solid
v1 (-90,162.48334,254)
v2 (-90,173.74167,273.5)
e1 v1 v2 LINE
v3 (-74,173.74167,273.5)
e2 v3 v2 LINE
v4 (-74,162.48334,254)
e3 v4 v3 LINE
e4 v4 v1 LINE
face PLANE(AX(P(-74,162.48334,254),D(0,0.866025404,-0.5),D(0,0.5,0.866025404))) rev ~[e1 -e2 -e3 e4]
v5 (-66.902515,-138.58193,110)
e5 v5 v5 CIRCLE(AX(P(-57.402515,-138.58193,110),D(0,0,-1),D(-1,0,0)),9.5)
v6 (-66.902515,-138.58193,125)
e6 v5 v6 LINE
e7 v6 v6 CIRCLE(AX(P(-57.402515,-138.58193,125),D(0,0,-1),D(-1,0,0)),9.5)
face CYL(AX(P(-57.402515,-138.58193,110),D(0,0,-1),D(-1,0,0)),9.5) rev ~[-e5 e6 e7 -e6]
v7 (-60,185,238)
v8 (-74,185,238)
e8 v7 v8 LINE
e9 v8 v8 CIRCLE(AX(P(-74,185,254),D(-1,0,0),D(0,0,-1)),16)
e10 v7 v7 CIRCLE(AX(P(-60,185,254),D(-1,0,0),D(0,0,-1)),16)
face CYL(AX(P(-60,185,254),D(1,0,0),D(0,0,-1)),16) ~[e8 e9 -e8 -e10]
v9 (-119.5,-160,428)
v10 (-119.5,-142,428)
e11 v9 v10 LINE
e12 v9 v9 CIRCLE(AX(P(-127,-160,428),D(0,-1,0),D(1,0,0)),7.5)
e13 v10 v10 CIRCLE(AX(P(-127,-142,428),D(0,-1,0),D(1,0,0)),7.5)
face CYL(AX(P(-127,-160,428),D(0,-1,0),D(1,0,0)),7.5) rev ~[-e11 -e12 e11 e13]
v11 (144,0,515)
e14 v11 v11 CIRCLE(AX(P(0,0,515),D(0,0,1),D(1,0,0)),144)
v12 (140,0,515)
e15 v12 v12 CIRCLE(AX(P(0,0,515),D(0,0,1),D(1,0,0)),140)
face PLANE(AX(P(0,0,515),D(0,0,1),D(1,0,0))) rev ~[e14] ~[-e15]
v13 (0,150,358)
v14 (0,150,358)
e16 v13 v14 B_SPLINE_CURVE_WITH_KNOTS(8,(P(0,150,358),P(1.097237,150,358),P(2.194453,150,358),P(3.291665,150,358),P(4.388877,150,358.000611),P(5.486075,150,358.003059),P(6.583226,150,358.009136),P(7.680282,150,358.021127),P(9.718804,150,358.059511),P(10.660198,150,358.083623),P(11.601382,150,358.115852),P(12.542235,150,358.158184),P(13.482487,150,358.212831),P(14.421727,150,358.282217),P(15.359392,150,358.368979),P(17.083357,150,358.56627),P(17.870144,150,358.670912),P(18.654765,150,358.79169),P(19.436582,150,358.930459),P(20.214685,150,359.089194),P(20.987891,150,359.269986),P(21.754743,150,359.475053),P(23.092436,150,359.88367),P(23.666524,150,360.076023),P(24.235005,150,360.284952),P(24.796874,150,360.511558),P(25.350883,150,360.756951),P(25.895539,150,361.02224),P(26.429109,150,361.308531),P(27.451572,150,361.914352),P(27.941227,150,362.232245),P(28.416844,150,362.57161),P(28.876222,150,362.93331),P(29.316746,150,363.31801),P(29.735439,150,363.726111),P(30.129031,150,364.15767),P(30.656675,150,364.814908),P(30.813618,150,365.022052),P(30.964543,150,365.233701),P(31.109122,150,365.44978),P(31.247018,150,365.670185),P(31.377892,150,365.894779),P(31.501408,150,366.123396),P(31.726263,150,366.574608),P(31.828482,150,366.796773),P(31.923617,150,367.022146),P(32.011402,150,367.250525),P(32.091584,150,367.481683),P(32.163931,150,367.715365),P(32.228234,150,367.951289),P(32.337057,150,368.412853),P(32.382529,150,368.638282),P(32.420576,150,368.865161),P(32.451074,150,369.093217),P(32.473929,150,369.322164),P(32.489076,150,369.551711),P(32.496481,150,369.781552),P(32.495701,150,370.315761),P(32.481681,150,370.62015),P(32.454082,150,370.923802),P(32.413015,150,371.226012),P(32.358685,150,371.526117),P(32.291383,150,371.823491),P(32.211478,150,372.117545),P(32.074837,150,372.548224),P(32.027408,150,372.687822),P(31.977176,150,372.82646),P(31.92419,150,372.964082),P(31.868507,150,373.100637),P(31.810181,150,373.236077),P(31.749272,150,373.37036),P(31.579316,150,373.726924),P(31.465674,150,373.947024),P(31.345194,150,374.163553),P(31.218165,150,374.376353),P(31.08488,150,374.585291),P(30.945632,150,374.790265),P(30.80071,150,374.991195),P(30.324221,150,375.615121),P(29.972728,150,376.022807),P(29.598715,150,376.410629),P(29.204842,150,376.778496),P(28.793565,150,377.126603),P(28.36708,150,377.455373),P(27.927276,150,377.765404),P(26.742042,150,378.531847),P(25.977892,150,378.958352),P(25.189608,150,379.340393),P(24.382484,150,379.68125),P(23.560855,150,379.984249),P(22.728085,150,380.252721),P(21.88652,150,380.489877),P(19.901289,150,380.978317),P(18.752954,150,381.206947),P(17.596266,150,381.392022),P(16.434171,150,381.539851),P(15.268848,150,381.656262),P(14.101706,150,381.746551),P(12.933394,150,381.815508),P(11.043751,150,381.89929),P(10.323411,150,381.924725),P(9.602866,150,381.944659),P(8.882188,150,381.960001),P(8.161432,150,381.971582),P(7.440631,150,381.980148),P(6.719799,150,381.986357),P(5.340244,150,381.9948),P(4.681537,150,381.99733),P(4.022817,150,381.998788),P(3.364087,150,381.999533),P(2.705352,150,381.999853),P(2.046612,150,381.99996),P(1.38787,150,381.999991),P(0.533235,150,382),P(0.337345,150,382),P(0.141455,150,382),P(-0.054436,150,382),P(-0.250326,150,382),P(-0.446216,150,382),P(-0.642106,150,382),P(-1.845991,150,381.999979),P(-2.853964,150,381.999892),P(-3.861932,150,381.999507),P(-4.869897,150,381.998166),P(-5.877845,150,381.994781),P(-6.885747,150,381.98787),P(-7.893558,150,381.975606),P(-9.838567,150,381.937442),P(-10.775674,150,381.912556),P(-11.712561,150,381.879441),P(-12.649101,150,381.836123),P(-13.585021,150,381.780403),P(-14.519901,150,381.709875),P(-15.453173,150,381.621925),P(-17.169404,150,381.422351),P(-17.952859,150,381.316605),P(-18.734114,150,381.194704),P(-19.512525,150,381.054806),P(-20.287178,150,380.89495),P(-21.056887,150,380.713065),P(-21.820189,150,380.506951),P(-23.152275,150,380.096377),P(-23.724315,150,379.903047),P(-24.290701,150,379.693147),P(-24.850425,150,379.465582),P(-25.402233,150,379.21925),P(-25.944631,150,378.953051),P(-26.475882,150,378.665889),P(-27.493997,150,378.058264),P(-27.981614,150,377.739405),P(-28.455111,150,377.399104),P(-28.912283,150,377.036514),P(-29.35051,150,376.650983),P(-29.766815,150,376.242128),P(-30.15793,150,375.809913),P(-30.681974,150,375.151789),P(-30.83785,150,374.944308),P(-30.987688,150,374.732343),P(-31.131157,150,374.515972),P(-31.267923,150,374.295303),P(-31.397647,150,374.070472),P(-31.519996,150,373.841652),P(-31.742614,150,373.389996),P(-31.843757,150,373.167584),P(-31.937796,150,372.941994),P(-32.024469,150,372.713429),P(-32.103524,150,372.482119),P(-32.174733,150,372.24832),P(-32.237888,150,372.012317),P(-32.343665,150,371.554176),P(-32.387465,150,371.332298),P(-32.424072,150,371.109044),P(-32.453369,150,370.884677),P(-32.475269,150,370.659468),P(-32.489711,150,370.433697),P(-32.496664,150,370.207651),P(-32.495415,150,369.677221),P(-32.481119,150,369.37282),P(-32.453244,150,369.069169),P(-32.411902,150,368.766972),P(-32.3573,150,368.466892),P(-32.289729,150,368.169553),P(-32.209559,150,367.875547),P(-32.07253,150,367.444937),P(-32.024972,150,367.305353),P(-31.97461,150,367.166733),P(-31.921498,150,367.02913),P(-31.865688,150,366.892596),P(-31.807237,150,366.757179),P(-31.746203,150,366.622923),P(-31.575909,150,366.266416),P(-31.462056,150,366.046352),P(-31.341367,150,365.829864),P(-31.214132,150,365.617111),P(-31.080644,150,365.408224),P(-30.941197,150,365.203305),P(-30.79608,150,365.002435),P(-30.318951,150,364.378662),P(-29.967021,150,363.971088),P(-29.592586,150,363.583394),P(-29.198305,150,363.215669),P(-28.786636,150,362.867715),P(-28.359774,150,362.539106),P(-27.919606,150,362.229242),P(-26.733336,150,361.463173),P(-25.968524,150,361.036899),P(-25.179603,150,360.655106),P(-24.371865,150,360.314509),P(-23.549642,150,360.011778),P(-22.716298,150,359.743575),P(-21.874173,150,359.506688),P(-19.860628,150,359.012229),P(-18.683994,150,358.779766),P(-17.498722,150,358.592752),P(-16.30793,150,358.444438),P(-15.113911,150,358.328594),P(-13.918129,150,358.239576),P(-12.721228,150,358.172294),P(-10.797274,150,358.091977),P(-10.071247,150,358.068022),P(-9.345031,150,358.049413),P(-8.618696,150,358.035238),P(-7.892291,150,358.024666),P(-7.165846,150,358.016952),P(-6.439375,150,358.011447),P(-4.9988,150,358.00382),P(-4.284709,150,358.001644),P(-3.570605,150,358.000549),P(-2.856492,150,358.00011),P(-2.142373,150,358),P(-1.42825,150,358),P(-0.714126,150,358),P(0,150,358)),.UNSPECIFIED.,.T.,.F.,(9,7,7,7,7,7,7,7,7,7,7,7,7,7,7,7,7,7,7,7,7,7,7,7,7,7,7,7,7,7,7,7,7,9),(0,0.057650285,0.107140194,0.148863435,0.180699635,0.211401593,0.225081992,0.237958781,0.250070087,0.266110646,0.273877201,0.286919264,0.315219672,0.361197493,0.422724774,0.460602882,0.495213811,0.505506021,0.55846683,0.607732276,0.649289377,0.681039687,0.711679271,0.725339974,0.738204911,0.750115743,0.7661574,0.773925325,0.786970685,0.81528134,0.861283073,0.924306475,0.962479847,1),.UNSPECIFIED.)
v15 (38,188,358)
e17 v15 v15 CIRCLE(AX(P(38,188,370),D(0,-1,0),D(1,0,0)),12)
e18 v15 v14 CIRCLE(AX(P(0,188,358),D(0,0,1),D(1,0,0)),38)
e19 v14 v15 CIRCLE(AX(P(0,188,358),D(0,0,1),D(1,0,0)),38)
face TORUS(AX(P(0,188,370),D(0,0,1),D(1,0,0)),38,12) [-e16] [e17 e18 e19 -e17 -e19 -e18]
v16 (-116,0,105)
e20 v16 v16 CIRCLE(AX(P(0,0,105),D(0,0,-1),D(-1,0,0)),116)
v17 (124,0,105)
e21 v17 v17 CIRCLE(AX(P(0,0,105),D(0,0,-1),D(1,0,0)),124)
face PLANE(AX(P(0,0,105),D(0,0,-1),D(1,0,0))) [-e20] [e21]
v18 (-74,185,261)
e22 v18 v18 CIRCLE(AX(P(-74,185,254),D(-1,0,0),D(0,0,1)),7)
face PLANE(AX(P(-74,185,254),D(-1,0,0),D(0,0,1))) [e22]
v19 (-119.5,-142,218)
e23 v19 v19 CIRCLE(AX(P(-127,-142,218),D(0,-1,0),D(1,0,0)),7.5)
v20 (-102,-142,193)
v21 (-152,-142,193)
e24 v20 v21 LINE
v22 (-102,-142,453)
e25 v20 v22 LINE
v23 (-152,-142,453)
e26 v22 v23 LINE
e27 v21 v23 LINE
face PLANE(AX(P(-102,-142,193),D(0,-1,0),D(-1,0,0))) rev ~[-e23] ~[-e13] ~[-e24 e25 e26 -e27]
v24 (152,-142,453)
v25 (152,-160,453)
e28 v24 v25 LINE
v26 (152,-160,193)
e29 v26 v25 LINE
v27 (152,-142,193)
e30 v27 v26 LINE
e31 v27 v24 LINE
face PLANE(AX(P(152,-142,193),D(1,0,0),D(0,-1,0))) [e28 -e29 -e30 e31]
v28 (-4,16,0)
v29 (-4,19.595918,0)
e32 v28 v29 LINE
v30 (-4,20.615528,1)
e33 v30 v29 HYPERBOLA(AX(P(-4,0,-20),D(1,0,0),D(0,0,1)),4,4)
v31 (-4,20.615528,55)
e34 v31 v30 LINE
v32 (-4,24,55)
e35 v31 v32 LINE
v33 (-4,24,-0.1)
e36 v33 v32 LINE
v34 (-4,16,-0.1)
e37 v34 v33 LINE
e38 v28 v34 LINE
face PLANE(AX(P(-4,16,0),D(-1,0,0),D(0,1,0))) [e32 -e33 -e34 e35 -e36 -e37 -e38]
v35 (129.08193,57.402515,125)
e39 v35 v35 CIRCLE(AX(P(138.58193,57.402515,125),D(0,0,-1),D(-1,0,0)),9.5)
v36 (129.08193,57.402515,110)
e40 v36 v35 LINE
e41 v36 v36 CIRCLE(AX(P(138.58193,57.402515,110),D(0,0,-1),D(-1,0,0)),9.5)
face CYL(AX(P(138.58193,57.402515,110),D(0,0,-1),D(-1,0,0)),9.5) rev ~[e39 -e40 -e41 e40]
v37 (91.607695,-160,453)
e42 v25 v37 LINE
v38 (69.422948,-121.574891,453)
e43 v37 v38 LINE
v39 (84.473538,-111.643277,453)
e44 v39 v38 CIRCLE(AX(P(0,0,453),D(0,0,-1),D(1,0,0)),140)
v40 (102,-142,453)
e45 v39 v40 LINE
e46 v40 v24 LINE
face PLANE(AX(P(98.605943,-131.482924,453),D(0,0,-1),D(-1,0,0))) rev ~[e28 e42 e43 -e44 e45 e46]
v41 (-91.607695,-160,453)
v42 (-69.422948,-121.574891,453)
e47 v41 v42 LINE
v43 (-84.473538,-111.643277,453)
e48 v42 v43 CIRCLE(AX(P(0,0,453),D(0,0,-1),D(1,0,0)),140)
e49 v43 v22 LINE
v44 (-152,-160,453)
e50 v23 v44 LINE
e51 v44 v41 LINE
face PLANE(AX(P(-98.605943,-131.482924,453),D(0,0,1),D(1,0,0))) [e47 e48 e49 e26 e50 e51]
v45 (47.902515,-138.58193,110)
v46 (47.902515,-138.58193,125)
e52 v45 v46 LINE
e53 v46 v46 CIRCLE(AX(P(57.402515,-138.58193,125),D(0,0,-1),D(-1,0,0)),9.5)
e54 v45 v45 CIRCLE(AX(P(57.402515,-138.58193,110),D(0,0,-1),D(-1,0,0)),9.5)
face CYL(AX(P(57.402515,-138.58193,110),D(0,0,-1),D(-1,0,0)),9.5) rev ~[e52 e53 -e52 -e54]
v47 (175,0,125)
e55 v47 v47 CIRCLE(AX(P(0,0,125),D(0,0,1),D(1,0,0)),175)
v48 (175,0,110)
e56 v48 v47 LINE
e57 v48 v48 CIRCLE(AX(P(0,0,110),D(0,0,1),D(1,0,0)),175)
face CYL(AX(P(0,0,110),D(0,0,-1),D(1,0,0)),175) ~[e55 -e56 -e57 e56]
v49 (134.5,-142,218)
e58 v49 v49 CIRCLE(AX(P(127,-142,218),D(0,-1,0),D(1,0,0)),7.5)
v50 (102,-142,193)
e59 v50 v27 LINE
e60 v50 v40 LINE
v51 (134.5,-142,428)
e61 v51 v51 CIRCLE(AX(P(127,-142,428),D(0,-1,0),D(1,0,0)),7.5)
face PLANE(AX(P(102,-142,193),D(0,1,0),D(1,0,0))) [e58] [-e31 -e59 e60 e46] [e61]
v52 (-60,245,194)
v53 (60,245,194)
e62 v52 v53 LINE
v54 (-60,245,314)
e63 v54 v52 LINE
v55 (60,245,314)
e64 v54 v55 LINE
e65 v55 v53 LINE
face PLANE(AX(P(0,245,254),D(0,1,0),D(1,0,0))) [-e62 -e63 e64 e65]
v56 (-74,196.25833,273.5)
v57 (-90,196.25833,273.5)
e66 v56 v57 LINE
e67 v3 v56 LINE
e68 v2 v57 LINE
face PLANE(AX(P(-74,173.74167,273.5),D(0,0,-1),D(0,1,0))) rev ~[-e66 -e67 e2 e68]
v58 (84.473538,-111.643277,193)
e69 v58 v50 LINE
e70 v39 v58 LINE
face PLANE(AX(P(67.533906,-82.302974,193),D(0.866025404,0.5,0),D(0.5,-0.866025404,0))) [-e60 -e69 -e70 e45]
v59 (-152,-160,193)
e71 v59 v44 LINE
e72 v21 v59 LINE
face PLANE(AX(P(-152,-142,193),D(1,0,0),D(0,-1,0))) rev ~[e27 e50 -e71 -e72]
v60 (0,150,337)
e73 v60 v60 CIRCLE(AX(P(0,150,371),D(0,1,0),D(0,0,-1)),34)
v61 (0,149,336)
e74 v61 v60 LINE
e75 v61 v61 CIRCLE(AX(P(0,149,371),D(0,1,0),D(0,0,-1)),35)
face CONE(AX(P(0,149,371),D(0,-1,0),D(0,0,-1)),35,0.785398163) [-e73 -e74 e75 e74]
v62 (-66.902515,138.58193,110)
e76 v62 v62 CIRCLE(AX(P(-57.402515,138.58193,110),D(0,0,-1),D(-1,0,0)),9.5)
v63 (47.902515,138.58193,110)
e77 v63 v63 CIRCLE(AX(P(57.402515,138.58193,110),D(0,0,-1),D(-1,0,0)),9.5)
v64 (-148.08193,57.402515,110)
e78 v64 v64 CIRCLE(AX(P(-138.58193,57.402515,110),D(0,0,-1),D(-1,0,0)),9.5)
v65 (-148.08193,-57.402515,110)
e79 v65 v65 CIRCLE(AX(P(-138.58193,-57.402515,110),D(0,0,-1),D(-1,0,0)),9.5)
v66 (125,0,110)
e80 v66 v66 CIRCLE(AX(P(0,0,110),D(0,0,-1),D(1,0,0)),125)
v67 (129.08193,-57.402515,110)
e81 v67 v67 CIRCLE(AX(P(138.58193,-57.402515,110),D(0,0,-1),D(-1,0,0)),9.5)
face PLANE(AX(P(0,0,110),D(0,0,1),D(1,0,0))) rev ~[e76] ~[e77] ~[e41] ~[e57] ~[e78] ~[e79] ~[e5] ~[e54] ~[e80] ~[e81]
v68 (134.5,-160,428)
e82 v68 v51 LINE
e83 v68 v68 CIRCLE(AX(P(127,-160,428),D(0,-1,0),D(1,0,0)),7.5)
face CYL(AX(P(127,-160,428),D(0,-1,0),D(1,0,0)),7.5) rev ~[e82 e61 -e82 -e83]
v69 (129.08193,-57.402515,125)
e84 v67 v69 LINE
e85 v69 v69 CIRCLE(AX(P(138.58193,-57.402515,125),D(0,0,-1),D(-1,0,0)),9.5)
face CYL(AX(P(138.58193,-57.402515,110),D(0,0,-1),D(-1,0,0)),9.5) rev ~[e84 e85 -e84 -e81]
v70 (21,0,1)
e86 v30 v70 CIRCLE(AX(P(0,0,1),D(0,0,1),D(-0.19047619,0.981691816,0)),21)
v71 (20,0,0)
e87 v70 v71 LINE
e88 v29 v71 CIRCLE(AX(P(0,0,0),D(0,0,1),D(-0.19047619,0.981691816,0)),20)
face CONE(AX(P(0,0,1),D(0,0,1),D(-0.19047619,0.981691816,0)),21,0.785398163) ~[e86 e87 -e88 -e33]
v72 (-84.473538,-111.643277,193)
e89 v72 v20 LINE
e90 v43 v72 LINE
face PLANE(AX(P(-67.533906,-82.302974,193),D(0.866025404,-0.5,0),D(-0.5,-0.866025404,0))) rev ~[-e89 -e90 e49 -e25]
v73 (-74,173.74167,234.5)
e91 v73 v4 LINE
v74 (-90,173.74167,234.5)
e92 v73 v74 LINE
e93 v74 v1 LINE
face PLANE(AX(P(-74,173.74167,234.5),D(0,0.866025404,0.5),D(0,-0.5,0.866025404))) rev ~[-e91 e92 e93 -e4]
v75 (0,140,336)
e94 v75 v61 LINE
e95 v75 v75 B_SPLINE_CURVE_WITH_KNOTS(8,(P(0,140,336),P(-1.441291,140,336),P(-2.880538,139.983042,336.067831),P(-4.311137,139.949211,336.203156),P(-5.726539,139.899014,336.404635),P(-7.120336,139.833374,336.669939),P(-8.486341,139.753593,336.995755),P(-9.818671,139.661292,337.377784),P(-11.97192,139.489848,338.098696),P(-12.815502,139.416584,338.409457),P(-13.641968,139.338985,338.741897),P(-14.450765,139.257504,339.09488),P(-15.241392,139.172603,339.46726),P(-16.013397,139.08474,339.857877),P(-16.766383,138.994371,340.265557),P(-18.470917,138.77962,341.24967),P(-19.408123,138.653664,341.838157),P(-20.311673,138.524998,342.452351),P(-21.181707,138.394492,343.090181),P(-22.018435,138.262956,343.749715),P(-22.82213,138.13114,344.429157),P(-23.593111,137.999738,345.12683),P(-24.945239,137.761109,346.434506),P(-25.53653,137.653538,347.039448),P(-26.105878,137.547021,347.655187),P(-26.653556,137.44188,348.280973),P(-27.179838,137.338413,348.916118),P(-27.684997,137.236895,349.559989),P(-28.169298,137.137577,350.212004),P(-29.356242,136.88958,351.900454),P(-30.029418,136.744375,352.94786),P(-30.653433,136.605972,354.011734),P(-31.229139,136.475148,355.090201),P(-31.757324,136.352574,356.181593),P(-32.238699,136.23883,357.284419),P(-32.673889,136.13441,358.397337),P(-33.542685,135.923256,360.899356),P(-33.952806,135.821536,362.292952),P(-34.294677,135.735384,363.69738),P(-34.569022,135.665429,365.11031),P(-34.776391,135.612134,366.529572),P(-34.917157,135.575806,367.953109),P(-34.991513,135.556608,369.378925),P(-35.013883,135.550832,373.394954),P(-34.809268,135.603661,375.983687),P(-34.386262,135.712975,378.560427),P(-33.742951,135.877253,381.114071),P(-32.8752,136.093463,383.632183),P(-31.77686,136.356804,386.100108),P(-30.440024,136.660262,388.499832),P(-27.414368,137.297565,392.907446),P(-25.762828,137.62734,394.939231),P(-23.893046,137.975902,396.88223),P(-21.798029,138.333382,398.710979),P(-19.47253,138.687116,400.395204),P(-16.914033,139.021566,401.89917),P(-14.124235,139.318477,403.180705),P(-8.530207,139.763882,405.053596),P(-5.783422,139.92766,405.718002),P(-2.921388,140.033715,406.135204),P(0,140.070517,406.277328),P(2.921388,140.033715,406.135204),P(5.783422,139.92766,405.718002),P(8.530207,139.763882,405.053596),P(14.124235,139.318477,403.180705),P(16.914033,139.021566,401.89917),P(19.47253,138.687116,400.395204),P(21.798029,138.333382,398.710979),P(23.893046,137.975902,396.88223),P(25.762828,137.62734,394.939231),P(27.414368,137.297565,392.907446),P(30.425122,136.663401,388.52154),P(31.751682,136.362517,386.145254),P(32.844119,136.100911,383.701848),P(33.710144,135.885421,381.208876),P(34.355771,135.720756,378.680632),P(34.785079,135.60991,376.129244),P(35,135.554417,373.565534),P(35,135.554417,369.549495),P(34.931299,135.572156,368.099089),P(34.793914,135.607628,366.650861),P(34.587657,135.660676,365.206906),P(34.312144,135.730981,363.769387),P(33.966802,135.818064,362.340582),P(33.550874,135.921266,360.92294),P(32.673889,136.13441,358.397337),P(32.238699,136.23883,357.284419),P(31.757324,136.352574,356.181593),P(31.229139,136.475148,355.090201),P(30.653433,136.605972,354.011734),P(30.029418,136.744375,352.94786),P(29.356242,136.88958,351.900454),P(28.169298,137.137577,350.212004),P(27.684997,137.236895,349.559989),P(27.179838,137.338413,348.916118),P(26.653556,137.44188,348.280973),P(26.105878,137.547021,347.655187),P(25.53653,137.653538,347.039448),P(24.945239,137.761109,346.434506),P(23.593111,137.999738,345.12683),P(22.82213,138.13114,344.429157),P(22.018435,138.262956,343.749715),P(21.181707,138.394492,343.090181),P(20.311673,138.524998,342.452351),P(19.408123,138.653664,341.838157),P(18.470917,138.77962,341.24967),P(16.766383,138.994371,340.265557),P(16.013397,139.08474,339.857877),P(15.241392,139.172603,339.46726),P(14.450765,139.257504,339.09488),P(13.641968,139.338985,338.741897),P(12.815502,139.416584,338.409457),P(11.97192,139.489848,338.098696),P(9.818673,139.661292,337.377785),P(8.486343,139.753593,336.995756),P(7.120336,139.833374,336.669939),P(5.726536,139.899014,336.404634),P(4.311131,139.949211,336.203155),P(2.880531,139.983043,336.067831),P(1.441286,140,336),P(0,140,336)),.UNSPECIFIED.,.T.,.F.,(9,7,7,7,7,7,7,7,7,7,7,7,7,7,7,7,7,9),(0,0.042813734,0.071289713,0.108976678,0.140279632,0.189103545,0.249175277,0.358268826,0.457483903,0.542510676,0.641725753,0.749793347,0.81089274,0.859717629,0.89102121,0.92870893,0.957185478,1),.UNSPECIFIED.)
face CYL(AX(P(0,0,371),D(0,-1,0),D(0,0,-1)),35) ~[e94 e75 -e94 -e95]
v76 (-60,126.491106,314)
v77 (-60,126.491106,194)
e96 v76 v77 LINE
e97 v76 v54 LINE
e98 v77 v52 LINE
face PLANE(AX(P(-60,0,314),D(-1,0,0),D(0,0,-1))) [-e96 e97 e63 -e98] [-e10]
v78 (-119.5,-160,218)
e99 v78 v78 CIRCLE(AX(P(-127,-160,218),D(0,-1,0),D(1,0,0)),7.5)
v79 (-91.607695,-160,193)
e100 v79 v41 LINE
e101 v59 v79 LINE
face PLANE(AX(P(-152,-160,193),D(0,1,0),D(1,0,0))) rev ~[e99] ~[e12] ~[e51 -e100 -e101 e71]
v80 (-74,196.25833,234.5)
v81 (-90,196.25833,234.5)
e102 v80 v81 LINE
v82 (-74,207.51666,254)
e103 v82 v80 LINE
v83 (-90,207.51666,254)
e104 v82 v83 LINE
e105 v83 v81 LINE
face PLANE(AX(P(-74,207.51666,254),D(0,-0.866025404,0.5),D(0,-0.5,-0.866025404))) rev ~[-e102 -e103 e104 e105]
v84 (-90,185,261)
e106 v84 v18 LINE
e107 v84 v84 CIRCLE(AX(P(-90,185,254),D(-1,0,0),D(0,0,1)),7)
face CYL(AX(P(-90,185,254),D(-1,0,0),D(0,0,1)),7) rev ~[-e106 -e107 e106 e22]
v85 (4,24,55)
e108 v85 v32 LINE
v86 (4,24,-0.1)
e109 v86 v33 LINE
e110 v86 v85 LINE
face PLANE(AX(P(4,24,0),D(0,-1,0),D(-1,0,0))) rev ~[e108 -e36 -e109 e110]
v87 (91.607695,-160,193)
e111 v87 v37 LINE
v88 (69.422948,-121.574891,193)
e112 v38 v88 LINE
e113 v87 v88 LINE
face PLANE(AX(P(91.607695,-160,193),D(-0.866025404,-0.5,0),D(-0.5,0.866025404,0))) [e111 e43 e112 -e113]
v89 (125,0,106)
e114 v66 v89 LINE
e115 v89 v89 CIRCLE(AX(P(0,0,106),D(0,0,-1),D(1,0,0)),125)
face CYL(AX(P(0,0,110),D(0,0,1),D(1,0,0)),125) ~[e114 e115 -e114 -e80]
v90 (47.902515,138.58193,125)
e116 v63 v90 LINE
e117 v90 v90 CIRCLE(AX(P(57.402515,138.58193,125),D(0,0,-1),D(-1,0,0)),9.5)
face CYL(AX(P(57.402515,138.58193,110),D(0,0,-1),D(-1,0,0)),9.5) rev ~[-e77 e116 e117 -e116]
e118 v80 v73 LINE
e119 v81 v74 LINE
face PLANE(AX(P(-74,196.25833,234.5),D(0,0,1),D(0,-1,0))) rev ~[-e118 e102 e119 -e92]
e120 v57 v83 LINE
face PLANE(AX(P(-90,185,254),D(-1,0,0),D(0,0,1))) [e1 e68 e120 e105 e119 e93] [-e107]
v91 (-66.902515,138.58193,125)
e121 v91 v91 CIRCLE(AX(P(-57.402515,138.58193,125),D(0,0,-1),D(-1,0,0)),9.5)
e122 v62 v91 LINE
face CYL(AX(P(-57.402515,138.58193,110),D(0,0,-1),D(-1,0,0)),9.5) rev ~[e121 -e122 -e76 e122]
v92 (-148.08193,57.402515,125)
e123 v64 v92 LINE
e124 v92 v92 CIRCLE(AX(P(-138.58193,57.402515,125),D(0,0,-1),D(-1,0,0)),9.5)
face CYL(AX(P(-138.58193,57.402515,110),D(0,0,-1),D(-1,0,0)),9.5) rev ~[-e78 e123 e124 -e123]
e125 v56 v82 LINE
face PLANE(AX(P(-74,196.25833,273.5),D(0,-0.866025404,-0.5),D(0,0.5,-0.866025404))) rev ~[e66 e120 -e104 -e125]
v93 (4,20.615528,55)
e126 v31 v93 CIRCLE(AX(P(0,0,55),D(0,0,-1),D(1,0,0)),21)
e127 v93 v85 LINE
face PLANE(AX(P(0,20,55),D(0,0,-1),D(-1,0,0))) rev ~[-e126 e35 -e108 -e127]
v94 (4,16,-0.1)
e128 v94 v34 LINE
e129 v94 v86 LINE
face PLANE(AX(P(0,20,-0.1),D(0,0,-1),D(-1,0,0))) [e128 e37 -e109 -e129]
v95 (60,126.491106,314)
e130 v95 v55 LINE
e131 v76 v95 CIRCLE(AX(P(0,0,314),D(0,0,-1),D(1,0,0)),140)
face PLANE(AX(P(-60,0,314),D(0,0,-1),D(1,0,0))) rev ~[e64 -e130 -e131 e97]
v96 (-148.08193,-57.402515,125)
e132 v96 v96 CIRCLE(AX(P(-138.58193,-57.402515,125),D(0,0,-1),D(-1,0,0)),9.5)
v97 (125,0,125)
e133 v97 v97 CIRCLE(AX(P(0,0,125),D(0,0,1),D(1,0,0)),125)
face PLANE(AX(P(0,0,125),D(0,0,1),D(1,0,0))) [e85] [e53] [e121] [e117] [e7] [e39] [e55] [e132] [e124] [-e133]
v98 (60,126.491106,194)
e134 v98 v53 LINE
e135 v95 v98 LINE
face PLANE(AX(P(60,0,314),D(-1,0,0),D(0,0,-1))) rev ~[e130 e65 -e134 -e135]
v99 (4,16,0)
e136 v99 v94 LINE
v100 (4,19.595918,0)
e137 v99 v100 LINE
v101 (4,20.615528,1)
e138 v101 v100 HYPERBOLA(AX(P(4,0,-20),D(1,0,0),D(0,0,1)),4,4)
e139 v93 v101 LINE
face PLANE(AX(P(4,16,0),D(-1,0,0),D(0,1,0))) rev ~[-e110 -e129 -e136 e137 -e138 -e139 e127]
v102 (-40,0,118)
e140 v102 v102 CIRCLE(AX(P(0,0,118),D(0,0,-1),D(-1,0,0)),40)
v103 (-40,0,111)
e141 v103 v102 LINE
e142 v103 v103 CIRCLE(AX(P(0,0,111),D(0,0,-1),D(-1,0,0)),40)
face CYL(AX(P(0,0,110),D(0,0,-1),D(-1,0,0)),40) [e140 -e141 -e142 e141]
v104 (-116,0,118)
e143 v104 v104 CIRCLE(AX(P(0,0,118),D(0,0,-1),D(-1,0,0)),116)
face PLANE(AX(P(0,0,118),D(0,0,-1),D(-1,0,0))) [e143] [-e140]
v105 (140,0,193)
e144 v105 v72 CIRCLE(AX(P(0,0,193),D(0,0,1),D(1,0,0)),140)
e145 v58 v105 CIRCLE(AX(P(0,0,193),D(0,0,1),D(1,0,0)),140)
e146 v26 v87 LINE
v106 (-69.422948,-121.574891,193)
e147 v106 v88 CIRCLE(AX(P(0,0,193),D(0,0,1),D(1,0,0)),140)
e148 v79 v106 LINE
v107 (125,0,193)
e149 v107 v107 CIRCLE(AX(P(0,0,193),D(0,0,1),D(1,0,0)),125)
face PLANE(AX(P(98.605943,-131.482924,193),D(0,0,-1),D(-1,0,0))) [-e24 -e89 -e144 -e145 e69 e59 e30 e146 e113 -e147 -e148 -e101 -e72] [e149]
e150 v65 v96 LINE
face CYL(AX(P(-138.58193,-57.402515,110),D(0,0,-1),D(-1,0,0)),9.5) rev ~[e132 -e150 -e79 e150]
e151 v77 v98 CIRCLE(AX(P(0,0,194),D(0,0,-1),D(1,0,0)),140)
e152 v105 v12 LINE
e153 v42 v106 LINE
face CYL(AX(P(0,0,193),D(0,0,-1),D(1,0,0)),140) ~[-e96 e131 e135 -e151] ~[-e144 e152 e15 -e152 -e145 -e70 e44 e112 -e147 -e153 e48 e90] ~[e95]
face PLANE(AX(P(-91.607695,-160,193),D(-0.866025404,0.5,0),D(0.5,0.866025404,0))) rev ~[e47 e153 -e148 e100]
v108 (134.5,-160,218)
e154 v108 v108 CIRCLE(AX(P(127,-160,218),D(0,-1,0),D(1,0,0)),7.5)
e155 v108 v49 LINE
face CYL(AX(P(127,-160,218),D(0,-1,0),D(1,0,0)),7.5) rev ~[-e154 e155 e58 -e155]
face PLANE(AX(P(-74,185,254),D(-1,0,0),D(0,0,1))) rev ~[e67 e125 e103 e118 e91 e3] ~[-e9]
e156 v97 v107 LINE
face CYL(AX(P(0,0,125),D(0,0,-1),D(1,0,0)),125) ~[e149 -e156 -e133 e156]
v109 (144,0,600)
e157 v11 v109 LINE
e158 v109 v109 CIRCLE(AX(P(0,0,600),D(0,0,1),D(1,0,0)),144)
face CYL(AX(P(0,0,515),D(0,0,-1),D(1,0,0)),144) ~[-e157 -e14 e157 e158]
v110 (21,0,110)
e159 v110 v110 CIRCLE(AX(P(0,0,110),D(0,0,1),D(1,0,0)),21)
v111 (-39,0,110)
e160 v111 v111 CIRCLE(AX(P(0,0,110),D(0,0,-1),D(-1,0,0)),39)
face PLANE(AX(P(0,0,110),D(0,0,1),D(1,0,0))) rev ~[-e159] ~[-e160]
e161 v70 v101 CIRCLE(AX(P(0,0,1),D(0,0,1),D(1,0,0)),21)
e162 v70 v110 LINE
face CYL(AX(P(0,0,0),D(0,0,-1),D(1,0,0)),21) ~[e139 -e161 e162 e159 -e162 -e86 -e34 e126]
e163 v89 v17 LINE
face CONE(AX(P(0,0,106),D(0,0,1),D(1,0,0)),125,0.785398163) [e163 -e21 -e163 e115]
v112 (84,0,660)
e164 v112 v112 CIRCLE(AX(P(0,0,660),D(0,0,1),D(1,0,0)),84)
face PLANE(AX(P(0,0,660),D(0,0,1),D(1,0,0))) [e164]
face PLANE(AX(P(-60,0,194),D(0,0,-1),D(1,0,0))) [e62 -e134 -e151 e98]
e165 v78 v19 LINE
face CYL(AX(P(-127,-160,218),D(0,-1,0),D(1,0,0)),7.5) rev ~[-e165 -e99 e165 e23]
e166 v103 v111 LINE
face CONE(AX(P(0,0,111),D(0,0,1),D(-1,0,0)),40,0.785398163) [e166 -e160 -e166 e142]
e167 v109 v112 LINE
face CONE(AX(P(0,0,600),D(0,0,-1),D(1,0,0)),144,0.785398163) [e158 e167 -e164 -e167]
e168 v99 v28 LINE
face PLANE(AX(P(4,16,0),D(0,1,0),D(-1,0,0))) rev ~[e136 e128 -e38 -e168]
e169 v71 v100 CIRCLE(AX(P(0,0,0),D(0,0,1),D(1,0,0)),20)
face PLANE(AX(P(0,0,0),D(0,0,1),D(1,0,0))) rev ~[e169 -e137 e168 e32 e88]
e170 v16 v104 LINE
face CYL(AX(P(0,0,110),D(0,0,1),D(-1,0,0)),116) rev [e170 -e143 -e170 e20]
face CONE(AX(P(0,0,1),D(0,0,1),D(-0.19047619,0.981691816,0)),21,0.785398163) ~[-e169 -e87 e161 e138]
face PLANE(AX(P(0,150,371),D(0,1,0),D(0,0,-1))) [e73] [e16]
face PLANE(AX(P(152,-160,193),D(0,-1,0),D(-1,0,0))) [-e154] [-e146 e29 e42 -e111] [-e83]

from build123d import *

# Parameters (mm, degrees)
SKETCH_1_R           = 21
EXTRUDE_1_DEPTH      = 110
SKETCH_2_W           = 8
SKETCH_2_H           = 8
EXTRUDE_2_DEPTH      = 0.1
EXTRUDE_2_DEPTH_BACK = 55
SKETCH_3_R           = 175
EXTRUDE_3_DEPTH      = 15
SKETCH_4_R           = 125
SKETCH_4_R_2         = 116
EXTRUDE_4_DEPTH      = 5
SKETCH_5_R           = 116
SKETCH_5_R_2         = 40
CUT_EXTRUDE_1_DEPTH  = 8
CHAMFER_1_SIZE       = 1
SKETCH_6_R           = 9.5
CUT_EXTRUDE_2_DEPTH  = 16
SKETCH_7_R           = 125
EXTRUDE_5_DEPTH      = 68
SKETCH_8_R           = 140
EXTRUDE_6_DEPTH      = 322
SKETCH_9_R           = 144
EXTRUDE_7_DEPTH      = 145
CHAMFER_2_SIZE       = 60
EXTRUDE_8_DEPTH      = 260
CUT_EXTRUDE_3_REACH  = 337
SKETCH_11_R          = 7.5
SKETCH_12_W          = 120
SKETCH_12_H          = 120
EXTRUDE_9_DEPTH      = 245
SKETCH_13_R          = 35
EXTRUDE_10_DEPTH     = 150
CHAMFER_3_SIZE       = 1
SKETCH_15_R          = 12
SKETCH_16_R          = 16
EXTRUDE_11_DEPTH     = 14
EXTRUDE_12_DEPTH     = 16
SKETCH_18_R          = 7
CUT_EXTRUDE_4_DEPTH  = 16


with BuildPart() as part:
    # Эскиз1 → Вытянуть1 (new body)
    with BuildSketch(Plane.XY):
        Circle(SKETCH_1_R)
    extrude(amount=EXTRUDE_1_DEPTH)

    # Эскиз2 → Вытянуть2 (add, two sides)
    with BuildSketch(Plane(origin=(0, 0, 0), x_dir=(-1, 0, 0), z_dir=(0, 0, -1))) as extrude_2_sk:
        with Locations((0, 20)):
            Rectangle(SKETCH_2_W, SKETCH_2_H)
    extrude(amount=EXTRUDE_2_DEPTH)
    extrude(extrude_2_sk.sketch, amount=-EXTRUDE_2_DEPTH_BACK)

    # Эскиз3 → Вытянуть3 (add)
    with BuildSketch(Plane.XY.offset(110)):
        Circle(SKETCH_3_R)
    extrude(amount=EXTRUDE_3_DEPTH)

    # Эскиз4 → Вытянуть4 (add)
    with BuildSketch(Plane(origin=(0, 0, 110), x_dir=(-1, 0, 0), z_dir=(0, 0, -1))):
        with Locations(Location((0, 0, 0), (0, 0, 180))):  # turned: the seam where the file's is
            Circle(SKETCH_4_R)
        Circle(SKETCH_4_R_2, mode=Mode.SUBTRACT)
    extrude(amount=EXTRUDE_4_DEPTH)

    # Эскиз5 → Вырез-Вытянуть1 (cut)
    with BuildSketch(Plane(origin=(0, 0, 110), x_dir=(-1, 0, 0), z_dir=(0, 0, -1))):
        Circle(SKETCH_5_R)
        Circle(SKETCH_5_R_2, mode=Mode.SUBTRACT)
    extrude(amount=-CUT_EXTRUDE_1_DEPTH, mode=Mode.SUBTRACT)

    # Фаска1
    chamfer_1_edges = [part.edges().sort_by_distance(p)[0] for p in [
        (-125, 0, 105),
        (40, 0, 110),
        (-13.360389216, -16.201851746, 0),
    ]]
    chamfer(chamfer_1_edges, length=CHAMFER_1_SIZE)

    # Эскиз6 → Вырез-Вытянуть2 (cut, through all)
    with BuildSketch(Plane(origin=(0, 0, 110), x_dir=(-1, 0, 0), z_dir=(0, 0, -1))):
        with Locations((-57.402514855, 138.581929877)):
            Circle(SKETCH_6_R)
        with Locations((57.402514855, 138.581929877)):
            Circle(SKETCH_6_R)
        with Locations((138.581929877, 57.402514855)):
            Circle(SKETCH_6_R)
        with Locations((138.581929877, -57.402514855)):
            Circle(SKETCH_6_R)
        with Locations((57.402514855, -138.581929877)):
            Circle(SKETCH_6_R)
        with Locations((-57.402514855, -138.581929877)):
            Circle(SKETCH_6_R)
        with Locations((-138.581929877, -57.402514855)):
            Circle(SKETCH_6_R)
        with Locations((-138.581929877, 57.402514855)):
            Circle(SKETCH_6_R)
    extrude(amount=-CUT_EXTRUDE_2_DEPTH, mode=Mode.SUBTRACT)

    # Эскиз7 → Вытянуть5 (add)
    with BuildSketch(Plane.XY.offset(125)):
        Circle(SKETCH_7_R)
    extrude(amount=EXTRUDE_5_DEPTH)

    # Эскиз8 → Вытянуть6 (add)
    with BuildSketch(Plane.XY.offset(193)):
        Circle(SKETCH_8_R)
    extrude(amount=EXTRUDE_6_DEPTH)

    # Эскиз9 → Вытянуть7 (add)
    with BuildSketch(Plane.XY.offset(515)):
        Circle(SKETCH_9_R)
    extrude(amount=EXTRUDE_7_DEPTH)

    # Фаска2
    chamfer_2_edges = [part.edges().sort_by_distance(p)[0] for p in [
        (-144, 0, 660),
    ]]
    chamfer(chamfer_2_edges, length=CHAMFER_2_SIZE)

    # Эскиз10 → Вытянуть8 (add)
    with BuildSketch(Plane(origin=(0, 0, 193), x_dir=(-1, 0, 0), z_dir=(0, 0, -1))):
        Polygon((-152, -160), (-91.607695155, -160), (-51.945448858, -91.302974272), (-67.533906126, -82.302974272), (-102, -142), (-152, -142), align=None)
        Polygon((91.607695155, -160), (51.945448858, -91.302974272), (67.533906126, -82.302974272), (102, -142), (152, -142), (152, -160), align=None)
    extrude(amount=-EXTRUDE_8_DEPTH)

    # Эскиз11 → Вырез-Вытянуть3 (cut, up to next)
    with BuildSketch(Plane.XZ.offset(160), mode=Mode.PRIVATE) as cut_extrude_3_sk1:
        with Locations((-127, 218)):
            Circle(SKETCH_11_R)
    cut_extrude_3_tool1 = extrude(cut_extrude_3_sk1.sketch, amount=-CUT_EXTRUDE_3_REACH, mode=Mode.PRIVATE) & part.part
    add(cut_extrude_3_tool1.solids().sort_by_distance((-127, -160, 218))[0], mode=Mode.SUBTRACT)
    # Эскиз11 → Вырез-Вытянуть3 (cut, up to next)
    with BuildSketch(Plane.XZ.offset(160), mode=Mode.PRIVATE) as cut_extrude_3_sk2:
        with Locations((127, 218)):
            Circle(SKETCH_11_R)
    cut_extrude_3_tool2 = extrude(cut_extrude_3_sk2.sketch, amount=-CUT_EXTRUDE_3_REACH, mode=Mode.PRIVATE) & part.part
    add(cut_extrude_3_tool2.solids().sort_by_distance((127, -160, 218))[0], mode=Mode.SUBTRACT)
    # Эскиз11 → Вырез-Вытянуть3 (cut, up to next)
    with BuildSketch(Plane.XZ.offset(160), mode=Mode.PRIVATE) as cut_extrude_3_sk3:
        with Locations((-127, 428)):
            Circle(SKETCH_11_R)
    cut_extrude_3_tool3 = extrude(cut_extrude_3_sk3.sketch, amount=-CUT_EXTRUDE_3_REACH, mode=Mode.PRIVATE) & part.part
    add(cut_extrude_3_tool3.solids().sort_by_distance((-127, -160, 428))[0], mode=Mode.SUBTRACT)
    # Эскиз11 → Вырез-Вытянуть3 (cut, up to next)
    with BuildSketch(Plane.XZ.offset(160), mode=Mode.PRIVATE) as cut_extrude_3_sk4:
        with Locations((127, 428)):
            Circle(SKETCH_11_R)
    cut_extrude_3_tool4 = extrude(cut_extrude_3_sk4.sketch, amount=-CUT_EXTRUDE_3_REACH, mode=Mode.PRIVATE) & part.part
    add(cut_extrude_3_tool4.solids().sort_by_distance((127, -160, 428))[0], mode=Mode.SUBTRACT)

    # Эскиз12 → Вытянуть9 (add)
    with BuildSketch(Plane(origin=(0, 0, 0), x_dir=(1, 0, 0), z_dir=(0, 1, 0))):
        with Locations((0, -254)):
            Rectangle(SKETCH_12_W, SKETCH_12_H)
    extrude(amount=EXTRUDE_9_DEPTH)

    # Эскиз13 → Вытянуть10 (add)
    with BuildSketch(Plane(origin=(0, 0, 0), x_dir=(1, 0, 0), z_dir=(0, 1, 0))):
        with Locations(Location((0, -371, 0), (0, 0, 90))):  # turned: the seam where the file's is
            Circle(SKETCH_13_R)
    extrude(amount=EXTRUDE_10_DEPTH)

    # Фаска3
    chamfer_3_edges = [part.edges().sort_by_distance(p)[0] for p in [
        (0, 150, 406),
    ]]
    chamfer(chamfer_3_edges, length=CHAMFER_3_SIZE)

    # По траектории1: sweep along a path in Эскиз14
    with BuildLine(Plane.XY.offset(370)) as sweep_1_path:
        CenterArc((0, 188), 38, 0, 360)
    # Эскиз15 → По траектории1 (sweep)
    with BuildSketch(Plane(origin=(0, 0, 0), x_dir=(0, 0, -1), z_dir=(1, 0, 0))):
        with Locations((-370, 226)):
            Circle(SKETCH_15_R)
    sweep(path=sweep_1_path.line)

    # Эскиз16 → Вытянуть11 (add)
    with BuildSketch(Plane.ZY.offset(60)):
        with Locations(Location((254, 185, 0), (0, 0, 180))):  # turned: the seam where the file's is
            Circle(SKETCH_16_R)
    extrude(amount=EXTRUDE_11_DEPTH)

    # Эскиз17 → Вытянуть12 (add)
    with BuildSketch(Plane.ZY.offset(74)):
        Polygon((254, 207.516660498), (234.5, 196.258330249), (234.5, 173.741669751), (254, 162.483339502), (273.5, 173.741669751), (273.5, 196.258330249), align=None)
    extrude(amount=EXTRUDE_12_DEPTH)

    # Эскиз18 → Вырез-Вытянуть4 (cut)
    with BuildSketch(Plane.ZY.offset(90)):
        with Locations((254, 185)):
            Circle(SKETCH_18_R)
    extrude(amount=-CUT_EXTRUDE_4_DEPTH, mode=Mode.SUBTRACT)


solid = part.part
